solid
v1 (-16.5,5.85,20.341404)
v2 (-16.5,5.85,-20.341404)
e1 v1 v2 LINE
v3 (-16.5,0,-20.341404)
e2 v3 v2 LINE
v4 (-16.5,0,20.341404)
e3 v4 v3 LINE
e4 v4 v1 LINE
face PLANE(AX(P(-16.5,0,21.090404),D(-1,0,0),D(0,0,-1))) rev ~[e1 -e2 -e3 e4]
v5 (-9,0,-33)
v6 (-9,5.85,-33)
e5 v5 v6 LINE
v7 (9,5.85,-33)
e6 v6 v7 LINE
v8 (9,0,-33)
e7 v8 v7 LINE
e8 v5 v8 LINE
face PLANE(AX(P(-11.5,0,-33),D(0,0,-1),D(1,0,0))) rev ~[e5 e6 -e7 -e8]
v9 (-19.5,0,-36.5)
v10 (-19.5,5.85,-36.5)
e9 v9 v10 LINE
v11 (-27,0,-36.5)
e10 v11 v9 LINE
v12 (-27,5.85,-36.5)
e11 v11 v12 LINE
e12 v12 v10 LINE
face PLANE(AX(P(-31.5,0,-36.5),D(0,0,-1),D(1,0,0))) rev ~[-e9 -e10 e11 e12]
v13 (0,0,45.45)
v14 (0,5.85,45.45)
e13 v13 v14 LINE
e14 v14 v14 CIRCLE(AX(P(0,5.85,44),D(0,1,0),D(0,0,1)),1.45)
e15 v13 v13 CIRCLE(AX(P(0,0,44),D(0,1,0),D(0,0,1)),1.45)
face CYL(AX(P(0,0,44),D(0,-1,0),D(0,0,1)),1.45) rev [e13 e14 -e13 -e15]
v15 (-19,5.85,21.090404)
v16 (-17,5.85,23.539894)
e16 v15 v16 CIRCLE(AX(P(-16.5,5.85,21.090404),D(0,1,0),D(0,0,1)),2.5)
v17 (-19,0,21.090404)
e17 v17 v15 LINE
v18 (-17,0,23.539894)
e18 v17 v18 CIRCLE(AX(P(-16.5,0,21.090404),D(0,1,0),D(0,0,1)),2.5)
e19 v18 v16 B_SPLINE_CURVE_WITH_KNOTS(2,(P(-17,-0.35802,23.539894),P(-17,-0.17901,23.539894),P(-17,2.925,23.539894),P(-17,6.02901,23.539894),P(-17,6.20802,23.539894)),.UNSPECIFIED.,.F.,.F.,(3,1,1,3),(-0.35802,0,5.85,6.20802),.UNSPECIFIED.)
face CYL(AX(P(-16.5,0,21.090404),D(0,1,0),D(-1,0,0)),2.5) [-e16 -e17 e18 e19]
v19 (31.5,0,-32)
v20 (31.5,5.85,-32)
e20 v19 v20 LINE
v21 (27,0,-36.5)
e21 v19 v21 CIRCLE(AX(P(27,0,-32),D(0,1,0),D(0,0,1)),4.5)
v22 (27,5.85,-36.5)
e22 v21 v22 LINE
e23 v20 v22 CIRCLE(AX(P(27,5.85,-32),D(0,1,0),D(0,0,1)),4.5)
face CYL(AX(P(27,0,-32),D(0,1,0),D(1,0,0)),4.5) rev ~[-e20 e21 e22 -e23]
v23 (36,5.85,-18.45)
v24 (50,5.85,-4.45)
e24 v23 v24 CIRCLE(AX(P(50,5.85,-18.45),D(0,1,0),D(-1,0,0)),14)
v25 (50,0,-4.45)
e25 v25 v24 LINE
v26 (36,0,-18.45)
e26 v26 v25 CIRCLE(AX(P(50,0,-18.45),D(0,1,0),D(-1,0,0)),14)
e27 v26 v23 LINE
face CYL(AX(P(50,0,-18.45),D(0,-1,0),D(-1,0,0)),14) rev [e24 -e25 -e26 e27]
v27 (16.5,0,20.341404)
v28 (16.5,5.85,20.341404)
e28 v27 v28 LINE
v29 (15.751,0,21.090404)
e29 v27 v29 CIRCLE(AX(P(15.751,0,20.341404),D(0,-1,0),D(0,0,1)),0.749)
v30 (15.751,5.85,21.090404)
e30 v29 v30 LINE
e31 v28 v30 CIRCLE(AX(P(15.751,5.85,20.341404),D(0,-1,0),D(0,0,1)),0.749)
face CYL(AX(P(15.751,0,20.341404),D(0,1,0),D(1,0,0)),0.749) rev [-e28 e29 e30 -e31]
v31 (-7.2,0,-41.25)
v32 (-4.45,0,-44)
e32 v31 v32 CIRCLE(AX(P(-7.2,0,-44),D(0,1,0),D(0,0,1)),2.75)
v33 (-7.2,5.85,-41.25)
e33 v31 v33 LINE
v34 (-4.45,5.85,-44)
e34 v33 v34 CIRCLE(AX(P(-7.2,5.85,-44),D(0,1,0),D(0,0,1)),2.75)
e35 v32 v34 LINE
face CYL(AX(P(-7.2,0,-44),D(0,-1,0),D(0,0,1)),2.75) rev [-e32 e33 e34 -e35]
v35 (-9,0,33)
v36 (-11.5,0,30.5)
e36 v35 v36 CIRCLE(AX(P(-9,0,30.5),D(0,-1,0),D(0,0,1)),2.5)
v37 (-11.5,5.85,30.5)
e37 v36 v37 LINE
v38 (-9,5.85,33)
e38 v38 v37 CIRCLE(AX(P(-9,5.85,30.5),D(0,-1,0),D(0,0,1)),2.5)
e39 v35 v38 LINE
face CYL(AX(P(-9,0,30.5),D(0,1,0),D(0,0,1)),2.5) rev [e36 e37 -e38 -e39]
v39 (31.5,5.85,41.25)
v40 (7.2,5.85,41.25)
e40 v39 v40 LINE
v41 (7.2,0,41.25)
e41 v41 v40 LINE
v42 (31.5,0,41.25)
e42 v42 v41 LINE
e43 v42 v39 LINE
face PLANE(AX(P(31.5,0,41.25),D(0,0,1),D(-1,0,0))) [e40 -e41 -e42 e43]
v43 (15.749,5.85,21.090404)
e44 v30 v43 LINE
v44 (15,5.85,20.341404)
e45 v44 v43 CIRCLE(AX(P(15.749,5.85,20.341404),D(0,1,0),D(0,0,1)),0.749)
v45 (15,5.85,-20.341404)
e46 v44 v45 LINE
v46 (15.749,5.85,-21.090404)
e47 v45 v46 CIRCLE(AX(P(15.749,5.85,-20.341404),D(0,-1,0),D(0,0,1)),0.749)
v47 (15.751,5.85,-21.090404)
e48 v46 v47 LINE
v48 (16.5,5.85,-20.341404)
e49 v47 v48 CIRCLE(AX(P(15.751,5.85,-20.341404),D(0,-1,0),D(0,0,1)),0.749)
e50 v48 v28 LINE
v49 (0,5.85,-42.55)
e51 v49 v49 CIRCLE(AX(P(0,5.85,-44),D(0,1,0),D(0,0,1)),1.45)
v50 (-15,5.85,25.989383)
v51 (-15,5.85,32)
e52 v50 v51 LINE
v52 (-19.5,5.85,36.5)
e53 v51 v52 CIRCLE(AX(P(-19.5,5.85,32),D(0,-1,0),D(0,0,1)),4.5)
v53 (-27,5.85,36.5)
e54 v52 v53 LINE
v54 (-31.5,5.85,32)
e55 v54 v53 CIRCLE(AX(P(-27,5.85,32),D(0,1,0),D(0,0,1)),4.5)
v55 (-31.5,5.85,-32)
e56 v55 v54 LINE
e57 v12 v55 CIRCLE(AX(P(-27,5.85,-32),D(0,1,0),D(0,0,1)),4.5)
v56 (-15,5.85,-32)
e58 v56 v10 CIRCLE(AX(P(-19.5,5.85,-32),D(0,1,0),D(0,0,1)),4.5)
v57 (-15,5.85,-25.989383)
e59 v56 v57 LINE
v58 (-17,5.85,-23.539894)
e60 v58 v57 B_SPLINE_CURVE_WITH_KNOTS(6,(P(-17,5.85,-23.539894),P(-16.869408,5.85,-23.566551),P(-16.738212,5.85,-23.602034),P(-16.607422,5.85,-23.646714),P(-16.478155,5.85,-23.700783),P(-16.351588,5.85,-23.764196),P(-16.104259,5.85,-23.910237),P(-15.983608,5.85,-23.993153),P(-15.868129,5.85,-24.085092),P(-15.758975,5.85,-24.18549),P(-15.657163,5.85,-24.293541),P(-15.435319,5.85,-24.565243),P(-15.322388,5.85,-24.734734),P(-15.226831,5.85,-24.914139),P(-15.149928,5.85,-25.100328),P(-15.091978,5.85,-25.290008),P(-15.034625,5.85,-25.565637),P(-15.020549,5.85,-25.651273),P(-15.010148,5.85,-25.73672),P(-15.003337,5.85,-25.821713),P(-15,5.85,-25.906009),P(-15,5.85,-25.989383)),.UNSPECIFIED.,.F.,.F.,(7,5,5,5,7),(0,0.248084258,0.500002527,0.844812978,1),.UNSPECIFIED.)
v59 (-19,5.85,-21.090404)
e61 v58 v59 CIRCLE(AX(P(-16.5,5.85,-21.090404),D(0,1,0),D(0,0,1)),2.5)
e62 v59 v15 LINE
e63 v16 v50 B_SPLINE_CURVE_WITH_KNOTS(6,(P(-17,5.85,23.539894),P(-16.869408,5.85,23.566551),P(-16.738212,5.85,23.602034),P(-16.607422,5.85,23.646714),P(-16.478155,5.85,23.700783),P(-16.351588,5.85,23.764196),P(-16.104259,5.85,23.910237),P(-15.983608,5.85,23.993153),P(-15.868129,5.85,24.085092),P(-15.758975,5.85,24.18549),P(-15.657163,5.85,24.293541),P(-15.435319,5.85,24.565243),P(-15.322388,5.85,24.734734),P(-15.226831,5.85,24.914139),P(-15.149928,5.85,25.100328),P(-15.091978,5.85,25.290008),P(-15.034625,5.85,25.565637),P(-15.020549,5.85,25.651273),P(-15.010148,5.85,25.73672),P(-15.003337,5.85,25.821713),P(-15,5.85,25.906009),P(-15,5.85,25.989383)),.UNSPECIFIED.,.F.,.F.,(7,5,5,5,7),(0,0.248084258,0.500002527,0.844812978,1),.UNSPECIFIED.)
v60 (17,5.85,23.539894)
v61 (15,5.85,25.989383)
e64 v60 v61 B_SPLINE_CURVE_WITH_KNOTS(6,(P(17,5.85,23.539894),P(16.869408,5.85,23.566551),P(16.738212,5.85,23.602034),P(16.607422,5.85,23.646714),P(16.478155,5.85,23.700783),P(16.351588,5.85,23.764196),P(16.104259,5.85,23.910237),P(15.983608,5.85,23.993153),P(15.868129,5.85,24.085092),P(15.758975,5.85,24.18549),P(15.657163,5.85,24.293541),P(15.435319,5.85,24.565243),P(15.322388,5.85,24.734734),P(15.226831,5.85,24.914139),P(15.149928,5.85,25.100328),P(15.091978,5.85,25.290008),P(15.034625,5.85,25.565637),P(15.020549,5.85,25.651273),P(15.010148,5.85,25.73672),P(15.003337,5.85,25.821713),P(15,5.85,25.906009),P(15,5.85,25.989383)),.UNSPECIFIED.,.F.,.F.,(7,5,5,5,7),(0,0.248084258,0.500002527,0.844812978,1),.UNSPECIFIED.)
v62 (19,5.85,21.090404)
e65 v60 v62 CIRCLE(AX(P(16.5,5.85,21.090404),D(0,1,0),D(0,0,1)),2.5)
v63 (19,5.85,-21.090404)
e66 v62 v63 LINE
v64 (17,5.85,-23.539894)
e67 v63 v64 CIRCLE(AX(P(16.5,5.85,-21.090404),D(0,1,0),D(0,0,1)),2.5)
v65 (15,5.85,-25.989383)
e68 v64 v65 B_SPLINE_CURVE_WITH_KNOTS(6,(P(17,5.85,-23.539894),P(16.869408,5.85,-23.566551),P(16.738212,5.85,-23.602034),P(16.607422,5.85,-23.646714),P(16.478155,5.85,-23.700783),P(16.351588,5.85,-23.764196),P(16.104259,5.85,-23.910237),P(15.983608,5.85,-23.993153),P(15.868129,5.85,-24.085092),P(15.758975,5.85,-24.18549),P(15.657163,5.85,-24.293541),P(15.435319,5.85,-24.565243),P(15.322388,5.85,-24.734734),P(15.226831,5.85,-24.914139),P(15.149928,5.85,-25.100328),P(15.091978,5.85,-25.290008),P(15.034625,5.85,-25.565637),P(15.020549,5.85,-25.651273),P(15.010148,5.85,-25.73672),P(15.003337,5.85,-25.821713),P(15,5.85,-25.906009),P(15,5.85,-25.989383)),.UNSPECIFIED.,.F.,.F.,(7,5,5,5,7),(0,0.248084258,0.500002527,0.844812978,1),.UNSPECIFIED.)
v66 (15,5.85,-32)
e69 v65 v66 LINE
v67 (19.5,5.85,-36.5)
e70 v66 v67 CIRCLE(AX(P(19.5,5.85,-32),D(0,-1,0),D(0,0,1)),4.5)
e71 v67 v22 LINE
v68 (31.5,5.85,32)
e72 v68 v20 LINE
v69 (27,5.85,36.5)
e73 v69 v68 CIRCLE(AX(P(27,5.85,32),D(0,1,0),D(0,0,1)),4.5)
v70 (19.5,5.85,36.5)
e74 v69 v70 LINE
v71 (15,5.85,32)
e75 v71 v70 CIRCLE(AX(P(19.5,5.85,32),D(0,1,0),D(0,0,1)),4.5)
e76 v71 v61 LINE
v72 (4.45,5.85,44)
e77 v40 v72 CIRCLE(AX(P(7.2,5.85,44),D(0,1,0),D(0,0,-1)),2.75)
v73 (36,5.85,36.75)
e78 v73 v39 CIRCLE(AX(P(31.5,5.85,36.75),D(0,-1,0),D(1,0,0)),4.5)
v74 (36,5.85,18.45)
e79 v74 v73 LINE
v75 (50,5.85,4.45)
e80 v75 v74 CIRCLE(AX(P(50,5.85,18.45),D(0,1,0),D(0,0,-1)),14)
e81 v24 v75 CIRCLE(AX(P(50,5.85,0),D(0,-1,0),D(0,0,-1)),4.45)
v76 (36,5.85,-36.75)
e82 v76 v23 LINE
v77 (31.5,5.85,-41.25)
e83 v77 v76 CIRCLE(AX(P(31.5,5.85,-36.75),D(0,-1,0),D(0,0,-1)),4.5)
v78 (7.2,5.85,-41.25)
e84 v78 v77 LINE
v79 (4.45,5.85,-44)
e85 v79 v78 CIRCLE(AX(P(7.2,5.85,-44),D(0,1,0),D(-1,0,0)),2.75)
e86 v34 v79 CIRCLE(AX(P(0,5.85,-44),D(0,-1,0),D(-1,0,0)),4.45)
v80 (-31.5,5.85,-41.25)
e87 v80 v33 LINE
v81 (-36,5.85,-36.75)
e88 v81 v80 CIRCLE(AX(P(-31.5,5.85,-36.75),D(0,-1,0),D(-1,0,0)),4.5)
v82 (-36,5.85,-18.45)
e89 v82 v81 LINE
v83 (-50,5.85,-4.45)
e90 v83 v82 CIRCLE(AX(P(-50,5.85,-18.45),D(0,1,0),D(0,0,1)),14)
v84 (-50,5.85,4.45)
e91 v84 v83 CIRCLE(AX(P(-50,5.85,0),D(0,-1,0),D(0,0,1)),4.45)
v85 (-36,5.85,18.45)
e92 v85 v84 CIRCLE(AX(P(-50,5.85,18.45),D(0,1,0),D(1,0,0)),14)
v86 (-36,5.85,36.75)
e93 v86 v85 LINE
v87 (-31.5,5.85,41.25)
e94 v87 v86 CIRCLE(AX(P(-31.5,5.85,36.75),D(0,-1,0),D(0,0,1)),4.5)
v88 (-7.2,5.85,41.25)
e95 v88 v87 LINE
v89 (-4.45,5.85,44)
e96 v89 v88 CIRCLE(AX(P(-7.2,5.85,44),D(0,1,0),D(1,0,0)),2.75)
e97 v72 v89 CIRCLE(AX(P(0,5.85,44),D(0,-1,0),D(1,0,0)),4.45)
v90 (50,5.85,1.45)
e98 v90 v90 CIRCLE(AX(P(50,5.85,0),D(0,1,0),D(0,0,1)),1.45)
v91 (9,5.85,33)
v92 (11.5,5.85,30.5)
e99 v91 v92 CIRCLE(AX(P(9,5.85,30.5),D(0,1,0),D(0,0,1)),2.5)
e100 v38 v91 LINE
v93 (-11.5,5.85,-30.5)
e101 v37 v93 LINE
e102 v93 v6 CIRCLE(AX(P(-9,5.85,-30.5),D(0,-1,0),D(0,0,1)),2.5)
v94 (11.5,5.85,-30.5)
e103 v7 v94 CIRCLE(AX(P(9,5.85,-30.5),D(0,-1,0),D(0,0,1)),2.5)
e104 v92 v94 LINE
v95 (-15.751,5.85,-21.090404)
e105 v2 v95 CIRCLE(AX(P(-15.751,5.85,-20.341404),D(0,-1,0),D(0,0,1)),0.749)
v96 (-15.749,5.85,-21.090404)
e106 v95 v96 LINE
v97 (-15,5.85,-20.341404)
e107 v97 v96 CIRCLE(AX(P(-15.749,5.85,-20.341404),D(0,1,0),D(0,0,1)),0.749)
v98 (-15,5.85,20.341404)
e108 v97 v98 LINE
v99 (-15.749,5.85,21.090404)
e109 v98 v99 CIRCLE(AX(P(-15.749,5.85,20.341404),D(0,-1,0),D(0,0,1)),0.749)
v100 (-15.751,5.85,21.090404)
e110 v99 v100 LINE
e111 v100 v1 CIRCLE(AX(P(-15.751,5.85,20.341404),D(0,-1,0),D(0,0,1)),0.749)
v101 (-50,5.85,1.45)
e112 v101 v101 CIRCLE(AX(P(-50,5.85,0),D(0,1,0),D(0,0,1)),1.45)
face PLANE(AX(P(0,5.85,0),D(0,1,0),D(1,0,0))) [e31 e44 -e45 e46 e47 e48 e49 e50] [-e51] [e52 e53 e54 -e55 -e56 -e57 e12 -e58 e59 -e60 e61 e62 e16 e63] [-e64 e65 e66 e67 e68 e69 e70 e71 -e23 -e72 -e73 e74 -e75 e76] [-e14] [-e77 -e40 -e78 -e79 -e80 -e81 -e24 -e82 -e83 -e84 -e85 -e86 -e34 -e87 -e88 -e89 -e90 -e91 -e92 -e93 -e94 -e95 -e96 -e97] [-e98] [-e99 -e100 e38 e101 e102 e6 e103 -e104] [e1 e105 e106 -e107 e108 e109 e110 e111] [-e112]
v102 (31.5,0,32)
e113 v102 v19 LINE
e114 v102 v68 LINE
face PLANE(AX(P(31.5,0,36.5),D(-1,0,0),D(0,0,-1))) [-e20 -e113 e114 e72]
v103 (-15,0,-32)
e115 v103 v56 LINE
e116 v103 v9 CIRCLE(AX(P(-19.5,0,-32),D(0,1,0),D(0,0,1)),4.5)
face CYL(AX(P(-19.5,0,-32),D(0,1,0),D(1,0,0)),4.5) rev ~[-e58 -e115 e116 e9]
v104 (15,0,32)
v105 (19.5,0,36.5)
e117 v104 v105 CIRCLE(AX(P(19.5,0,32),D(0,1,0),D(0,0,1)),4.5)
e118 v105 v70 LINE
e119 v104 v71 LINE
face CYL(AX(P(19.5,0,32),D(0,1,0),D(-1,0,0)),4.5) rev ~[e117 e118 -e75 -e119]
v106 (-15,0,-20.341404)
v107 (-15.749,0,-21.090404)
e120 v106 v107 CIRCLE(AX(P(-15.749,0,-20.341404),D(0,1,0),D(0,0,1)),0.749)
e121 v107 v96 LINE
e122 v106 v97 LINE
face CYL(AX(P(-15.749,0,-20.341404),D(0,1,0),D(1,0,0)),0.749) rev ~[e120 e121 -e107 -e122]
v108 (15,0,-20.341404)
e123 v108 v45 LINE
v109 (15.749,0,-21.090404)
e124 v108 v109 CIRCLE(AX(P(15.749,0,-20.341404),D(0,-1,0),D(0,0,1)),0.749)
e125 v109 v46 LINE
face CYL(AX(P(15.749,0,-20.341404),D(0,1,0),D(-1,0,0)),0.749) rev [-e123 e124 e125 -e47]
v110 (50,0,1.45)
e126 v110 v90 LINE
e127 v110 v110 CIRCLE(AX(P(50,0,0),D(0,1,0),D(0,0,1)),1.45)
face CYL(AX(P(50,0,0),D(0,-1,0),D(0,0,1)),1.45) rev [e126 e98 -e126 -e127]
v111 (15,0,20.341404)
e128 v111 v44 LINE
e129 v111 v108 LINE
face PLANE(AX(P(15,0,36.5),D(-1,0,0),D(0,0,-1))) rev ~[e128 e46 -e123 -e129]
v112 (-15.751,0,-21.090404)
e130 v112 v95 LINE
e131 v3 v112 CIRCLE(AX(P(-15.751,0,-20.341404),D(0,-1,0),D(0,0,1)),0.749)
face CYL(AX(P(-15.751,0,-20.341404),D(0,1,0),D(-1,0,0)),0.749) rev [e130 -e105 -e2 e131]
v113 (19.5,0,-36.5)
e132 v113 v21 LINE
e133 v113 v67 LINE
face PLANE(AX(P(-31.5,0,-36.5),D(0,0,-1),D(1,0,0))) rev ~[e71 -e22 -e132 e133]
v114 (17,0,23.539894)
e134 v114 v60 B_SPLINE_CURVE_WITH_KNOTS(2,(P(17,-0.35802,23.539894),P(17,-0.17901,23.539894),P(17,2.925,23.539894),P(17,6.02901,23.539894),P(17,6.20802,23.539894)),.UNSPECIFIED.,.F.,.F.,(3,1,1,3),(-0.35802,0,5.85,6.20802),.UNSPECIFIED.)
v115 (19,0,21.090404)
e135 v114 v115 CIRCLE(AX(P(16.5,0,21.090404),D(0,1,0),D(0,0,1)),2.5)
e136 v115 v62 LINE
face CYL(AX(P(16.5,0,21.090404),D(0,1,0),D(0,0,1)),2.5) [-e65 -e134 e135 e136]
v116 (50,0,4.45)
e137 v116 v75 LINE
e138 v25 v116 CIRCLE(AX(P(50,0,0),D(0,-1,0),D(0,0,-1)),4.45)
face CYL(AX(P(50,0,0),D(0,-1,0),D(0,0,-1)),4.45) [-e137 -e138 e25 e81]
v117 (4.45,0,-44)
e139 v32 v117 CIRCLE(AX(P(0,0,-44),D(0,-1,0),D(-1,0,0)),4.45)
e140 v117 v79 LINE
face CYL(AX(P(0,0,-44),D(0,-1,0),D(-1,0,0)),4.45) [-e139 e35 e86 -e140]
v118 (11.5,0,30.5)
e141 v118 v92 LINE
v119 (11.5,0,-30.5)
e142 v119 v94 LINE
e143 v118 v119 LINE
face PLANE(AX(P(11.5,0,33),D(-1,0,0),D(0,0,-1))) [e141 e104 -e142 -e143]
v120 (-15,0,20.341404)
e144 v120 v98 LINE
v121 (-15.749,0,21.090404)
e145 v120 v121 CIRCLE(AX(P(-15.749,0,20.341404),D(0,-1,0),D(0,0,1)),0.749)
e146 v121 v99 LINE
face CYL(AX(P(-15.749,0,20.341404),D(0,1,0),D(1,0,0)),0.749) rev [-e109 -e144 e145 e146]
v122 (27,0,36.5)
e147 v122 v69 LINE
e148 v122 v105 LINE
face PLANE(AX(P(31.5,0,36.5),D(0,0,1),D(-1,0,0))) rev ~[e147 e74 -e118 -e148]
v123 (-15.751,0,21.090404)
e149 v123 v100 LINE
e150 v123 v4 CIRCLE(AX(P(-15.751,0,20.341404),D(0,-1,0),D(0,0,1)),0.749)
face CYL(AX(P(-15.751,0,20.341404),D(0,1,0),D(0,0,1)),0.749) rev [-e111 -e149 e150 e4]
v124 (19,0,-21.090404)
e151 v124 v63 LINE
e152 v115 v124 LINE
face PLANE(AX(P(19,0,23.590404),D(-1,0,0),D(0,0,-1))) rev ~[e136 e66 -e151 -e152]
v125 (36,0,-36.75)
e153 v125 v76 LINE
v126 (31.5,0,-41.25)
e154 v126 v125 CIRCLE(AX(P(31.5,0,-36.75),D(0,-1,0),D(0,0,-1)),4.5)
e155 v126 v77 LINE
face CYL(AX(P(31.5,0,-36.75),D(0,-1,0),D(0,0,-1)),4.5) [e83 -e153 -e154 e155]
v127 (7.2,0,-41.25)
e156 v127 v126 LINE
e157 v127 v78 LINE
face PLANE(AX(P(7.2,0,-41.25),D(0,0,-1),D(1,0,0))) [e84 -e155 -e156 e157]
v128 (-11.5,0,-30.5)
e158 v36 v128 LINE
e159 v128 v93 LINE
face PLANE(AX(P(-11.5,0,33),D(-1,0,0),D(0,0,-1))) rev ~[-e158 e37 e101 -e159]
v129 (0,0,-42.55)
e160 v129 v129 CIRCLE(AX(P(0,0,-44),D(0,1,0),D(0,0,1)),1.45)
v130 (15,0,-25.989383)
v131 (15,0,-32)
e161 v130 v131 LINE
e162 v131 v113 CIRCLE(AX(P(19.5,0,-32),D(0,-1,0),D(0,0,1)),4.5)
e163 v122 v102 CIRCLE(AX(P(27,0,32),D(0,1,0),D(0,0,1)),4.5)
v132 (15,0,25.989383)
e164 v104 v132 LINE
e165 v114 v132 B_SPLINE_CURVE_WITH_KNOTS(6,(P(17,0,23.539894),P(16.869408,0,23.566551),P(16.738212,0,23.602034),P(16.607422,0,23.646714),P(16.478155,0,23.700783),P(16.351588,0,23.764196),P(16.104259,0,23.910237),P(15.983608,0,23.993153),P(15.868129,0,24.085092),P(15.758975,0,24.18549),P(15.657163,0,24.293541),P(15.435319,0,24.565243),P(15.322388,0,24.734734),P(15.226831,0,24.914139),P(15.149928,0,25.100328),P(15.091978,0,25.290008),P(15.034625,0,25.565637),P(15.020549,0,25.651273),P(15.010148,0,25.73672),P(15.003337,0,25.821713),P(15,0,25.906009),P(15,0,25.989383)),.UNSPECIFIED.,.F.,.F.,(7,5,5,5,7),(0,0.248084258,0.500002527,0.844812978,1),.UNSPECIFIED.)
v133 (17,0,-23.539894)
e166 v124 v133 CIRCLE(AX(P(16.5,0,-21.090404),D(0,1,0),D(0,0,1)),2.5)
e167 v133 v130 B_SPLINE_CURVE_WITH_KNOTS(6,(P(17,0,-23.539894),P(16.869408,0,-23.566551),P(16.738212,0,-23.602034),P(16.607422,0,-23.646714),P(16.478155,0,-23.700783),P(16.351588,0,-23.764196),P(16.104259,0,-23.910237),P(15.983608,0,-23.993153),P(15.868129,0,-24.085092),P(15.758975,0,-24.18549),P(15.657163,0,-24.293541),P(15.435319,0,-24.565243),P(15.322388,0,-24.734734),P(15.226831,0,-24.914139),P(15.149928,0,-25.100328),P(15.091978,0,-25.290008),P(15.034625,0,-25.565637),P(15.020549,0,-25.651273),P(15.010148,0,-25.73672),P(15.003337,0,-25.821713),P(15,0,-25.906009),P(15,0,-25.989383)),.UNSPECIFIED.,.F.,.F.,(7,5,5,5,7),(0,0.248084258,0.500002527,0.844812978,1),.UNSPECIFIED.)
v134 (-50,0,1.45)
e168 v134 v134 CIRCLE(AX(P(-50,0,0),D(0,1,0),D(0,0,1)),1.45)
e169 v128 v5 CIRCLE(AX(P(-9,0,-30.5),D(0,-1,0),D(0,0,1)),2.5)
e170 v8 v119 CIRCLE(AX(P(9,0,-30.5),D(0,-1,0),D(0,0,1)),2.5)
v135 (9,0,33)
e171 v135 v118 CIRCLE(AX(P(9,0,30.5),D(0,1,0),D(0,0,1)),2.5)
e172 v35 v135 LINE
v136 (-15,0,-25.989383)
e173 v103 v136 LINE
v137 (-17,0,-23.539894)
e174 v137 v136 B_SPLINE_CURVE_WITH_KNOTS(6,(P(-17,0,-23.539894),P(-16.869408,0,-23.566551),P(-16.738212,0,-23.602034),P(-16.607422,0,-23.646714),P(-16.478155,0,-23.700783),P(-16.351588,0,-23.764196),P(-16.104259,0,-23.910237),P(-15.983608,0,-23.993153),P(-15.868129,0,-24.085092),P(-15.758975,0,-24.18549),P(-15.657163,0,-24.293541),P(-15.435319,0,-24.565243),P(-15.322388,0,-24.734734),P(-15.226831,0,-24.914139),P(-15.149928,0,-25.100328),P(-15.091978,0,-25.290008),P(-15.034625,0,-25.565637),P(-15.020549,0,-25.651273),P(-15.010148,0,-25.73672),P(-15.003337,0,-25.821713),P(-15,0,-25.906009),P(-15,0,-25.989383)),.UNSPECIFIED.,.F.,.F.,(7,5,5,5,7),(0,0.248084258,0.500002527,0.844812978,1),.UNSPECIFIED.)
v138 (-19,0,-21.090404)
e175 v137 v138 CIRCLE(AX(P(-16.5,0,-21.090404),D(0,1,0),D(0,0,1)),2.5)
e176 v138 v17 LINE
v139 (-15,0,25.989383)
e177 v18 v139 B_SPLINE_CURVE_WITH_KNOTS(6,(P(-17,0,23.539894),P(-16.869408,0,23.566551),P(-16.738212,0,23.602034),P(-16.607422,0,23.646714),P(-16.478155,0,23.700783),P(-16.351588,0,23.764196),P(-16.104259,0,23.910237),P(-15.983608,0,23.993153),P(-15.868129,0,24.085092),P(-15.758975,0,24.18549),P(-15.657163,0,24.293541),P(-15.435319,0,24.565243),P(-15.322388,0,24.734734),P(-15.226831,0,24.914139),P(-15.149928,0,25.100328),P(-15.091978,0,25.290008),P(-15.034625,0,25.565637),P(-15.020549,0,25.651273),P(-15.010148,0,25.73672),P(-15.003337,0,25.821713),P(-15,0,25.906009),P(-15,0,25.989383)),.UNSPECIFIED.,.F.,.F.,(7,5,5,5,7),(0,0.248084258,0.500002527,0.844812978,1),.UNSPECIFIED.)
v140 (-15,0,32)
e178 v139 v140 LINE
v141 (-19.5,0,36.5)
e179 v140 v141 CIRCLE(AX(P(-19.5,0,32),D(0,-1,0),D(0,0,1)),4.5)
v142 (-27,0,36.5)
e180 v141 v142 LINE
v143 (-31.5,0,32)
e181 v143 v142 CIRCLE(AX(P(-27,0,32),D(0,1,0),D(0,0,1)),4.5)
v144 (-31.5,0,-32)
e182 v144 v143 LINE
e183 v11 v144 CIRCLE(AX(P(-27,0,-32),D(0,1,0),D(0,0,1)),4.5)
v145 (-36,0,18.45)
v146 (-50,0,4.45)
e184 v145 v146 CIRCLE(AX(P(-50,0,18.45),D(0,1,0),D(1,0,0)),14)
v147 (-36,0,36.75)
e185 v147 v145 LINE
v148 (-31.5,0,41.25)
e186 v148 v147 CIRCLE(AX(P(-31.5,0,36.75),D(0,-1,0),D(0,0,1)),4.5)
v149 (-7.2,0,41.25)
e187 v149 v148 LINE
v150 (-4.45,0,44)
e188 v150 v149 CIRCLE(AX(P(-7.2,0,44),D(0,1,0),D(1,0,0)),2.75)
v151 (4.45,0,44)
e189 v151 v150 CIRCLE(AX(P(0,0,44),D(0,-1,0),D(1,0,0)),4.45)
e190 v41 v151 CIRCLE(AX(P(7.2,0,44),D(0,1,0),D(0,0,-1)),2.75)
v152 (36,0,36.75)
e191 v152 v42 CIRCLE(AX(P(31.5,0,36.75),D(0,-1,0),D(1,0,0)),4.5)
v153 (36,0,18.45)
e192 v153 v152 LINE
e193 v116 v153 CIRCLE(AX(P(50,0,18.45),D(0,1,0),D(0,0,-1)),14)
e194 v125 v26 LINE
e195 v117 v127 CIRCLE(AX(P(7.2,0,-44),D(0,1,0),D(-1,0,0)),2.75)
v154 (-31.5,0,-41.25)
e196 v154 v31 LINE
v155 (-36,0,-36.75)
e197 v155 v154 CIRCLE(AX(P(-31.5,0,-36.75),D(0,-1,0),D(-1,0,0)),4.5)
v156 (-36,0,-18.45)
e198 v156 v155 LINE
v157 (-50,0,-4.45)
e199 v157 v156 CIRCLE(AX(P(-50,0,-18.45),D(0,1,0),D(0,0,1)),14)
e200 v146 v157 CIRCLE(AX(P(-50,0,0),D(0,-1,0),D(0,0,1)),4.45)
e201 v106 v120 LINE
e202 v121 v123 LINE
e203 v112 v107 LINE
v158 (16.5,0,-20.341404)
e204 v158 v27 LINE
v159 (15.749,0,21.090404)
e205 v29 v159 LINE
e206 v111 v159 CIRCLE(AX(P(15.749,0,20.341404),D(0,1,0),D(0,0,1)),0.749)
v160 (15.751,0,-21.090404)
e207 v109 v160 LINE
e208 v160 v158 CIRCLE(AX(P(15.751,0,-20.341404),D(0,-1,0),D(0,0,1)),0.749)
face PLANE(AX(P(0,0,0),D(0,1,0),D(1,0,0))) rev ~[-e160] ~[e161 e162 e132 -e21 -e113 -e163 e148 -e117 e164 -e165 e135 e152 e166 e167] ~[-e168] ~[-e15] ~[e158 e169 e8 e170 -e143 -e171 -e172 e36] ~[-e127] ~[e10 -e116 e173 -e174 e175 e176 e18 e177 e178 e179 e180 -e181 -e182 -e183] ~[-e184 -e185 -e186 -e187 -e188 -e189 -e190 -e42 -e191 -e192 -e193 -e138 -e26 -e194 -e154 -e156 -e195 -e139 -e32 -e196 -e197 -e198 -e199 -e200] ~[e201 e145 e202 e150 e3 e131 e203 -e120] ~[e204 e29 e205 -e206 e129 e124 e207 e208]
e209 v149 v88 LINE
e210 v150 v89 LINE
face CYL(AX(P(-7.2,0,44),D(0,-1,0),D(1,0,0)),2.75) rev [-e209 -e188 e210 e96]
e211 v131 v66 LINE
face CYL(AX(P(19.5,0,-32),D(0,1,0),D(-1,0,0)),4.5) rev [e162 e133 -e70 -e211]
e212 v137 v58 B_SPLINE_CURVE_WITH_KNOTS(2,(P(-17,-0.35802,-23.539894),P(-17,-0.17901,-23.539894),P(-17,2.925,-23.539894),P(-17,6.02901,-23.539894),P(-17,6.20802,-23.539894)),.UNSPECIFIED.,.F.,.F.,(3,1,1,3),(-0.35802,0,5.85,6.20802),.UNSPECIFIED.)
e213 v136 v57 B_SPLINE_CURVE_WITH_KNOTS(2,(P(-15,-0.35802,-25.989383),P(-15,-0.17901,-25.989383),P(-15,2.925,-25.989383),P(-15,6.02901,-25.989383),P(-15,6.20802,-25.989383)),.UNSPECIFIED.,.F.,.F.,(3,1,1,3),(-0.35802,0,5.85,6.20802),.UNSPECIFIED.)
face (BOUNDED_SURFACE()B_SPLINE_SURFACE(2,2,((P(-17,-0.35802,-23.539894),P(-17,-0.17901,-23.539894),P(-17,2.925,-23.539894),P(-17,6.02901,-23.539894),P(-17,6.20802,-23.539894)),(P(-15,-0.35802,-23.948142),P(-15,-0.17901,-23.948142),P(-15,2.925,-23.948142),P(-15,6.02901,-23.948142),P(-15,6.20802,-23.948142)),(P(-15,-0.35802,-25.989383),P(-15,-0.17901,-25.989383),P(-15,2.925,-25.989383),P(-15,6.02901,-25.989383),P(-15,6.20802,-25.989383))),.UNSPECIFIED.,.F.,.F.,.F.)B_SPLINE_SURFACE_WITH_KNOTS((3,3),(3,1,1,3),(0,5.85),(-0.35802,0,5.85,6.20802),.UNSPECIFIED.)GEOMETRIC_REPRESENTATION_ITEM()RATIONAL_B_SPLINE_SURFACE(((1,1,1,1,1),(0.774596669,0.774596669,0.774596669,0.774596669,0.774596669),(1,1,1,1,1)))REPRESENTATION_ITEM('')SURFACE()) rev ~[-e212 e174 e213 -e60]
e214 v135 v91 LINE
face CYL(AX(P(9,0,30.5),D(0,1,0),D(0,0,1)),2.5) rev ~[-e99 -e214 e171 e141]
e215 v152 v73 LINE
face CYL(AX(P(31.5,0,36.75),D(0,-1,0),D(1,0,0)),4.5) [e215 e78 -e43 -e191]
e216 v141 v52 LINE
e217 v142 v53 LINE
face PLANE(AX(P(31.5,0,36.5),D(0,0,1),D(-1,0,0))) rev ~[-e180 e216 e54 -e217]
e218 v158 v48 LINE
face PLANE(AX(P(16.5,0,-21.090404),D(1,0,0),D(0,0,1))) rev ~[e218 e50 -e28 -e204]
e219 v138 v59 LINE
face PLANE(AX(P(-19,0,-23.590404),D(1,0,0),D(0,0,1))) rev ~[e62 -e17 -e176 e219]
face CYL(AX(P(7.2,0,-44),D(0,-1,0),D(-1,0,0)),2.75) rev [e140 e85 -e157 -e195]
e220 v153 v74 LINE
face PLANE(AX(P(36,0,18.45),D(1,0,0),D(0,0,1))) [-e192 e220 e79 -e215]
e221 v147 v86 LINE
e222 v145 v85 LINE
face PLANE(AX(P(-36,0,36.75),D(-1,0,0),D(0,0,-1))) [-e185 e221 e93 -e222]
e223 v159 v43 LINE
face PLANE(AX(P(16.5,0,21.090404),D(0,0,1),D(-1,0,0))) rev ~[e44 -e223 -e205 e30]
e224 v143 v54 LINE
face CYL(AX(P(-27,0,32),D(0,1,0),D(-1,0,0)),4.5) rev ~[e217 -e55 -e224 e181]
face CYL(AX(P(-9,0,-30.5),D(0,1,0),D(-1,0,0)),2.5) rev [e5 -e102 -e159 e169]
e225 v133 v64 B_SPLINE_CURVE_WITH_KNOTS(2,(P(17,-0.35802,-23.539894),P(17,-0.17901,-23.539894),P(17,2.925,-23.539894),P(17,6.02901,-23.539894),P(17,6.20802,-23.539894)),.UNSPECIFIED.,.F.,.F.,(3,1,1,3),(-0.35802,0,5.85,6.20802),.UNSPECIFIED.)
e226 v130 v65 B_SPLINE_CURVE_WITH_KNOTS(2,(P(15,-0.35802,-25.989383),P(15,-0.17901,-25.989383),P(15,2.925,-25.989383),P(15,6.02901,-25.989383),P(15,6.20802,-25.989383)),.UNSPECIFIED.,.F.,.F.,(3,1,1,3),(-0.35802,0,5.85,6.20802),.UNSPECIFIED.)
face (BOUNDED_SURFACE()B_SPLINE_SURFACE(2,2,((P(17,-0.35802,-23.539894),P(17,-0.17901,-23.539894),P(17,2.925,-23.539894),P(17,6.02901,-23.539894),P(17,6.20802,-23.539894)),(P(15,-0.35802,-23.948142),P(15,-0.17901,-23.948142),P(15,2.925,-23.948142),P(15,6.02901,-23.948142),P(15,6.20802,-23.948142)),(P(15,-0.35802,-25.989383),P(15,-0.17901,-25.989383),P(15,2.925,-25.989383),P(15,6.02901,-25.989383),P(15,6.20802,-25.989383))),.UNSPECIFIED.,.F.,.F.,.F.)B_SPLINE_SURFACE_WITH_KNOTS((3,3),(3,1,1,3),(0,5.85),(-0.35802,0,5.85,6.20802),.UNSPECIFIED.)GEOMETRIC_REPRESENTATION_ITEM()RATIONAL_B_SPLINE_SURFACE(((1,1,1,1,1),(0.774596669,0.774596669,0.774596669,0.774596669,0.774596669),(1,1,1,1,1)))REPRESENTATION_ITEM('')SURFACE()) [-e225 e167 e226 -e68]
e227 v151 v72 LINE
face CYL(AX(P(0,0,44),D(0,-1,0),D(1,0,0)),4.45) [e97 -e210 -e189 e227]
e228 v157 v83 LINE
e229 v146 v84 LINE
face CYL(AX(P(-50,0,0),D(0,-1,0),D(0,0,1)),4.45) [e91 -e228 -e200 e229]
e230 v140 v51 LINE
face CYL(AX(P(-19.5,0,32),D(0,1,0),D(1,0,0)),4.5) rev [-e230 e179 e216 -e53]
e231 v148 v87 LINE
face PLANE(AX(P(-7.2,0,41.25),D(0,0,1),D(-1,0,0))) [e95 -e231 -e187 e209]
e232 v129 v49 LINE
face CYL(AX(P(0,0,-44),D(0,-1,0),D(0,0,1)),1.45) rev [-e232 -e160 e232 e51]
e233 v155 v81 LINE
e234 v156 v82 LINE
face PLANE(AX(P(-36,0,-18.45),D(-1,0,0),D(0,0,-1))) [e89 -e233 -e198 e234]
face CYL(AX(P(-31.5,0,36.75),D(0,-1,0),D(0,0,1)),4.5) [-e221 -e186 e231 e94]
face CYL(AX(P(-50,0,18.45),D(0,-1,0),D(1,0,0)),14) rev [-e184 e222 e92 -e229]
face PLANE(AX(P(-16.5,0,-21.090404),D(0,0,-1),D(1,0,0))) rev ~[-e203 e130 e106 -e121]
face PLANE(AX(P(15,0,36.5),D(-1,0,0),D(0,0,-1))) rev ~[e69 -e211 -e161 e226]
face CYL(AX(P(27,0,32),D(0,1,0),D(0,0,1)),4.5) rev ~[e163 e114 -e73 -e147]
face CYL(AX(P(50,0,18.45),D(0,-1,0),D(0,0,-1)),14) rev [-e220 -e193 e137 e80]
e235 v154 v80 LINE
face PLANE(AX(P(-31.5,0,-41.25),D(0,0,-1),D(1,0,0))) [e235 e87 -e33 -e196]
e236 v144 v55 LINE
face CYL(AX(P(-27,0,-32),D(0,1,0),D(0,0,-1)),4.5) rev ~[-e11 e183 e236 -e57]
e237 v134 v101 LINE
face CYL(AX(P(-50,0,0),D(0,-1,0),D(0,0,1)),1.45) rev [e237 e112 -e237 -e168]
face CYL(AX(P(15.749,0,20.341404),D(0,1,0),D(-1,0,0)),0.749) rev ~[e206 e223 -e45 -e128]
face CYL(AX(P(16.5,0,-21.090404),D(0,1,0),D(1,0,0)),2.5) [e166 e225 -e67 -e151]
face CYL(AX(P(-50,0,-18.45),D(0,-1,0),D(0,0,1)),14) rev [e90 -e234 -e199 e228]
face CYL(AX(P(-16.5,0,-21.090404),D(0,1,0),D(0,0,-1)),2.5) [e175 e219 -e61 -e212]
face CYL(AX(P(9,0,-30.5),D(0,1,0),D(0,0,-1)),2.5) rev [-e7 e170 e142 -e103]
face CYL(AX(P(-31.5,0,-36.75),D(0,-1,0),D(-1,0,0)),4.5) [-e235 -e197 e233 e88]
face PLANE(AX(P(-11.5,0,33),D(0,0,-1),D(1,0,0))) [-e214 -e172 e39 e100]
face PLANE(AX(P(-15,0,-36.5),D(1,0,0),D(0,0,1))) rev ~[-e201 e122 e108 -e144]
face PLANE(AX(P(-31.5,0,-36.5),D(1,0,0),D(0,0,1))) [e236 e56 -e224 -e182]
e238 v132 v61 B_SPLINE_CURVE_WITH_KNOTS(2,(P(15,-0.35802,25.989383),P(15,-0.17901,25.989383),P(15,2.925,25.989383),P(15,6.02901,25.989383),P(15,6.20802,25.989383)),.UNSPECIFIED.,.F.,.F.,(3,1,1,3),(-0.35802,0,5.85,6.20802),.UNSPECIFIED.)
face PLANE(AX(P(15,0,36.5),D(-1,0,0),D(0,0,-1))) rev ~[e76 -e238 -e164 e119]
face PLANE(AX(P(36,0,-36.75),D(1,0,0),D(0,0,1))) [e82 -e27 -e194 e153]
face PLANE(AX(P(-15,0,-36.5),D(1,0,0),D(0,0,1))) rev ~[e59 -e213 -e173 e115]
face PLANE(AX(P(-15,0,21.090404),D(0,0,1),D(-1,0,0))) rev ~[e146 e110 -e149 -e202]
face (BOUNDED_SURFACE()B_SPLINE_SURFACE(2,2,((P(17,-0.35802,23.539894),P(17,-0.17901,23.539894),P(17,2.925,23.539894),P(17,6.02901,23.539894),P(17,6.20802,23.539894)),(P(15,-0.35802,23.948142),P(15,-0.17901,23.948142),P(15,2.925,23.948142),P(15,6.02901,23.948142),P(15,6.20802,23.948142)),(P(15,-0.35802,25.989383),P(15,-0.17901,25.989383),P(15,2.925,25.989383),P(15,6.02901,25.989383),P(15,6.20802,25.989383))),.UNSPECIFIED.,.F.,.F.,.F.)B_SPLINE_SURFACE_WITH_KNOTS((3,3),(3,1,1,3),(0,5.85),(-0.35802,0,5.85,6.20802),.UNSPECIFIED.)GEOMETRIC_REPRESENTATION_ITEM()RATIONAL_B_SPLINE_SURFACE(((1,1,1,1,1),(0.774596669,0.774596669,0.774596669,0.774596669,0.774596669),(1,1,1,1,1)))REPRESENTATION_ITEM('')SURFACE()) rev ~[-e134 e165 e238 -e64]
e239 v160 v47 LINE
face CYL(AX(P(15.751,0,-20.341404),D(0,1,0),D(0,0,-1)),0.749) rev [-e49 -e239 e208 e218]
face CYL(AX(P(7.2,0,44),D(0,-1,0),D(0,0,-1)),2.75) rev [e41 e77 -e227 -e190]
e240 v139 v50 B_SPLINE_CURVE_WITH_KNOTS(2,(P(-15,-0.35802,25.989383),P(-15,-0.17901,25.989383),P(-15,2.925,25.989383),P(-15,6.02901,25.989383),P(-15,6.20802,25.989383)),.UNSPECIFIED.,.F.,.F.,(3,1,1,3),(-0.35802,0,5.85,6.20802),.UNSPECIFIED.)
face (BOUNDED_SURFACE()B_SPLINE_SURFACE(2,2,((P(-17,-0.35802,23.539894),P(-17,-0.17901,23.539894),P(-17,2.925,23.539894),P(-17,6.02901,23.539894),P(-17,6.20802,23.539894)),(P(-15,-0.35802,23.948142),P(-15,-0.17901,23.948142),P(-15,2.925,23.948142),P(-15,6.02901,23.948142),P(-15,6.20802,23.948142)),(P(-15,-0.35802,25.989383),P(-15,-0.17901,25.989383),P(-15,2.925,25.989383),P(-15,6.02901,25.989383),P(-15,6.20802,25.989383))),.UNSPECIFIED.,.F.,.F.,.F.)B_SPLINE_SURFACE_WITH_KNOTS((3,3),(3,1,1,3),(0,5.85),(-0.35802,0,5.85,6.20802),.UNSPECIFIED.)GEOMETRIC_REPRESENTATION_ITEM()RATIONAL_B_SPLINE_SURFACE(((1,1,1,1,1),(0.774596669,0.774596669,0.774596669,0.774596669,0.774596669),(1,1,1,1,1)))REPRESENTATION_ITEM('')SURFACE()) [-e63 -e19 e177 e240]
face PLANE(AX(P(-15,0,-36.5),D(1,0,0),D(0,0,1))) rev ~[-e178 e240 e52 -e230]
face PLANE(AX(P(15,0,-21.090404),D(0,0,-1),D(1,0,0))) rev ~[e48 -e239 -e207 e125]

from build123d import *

# Parameters (mm, degrees)
SKETCH1_R           = 1.45
SKETCH1_W           = 23
SKETCH1_H           = 66
BOSS_EXTRUDE1_DEPTH = 5.85
FILLET1_R           = 4.5
FILLET2_R           = 0.749
FILLET3_R           = 2.5
FILLET4_R           = 2.5


with BuildPart() as part:
    # Sketch1 → Boss-Extrude1 (new body)
    # profile 1 of 4: a face of its own
    with BuildSketch(Plane(origin=(0, 0, 0), x_dir=(1, 0, 0), z_dir=(0, 1, 0))):
        with BuildLine():
            Line((-31.5, 41.25), (-7.2, 41.25))
            ThreePointArc((-7.2, 41.25), (-5.255456352, 42.055456352), (-4.45, 44))
            ThreePointArc((-4.45, 44), (0, 48.45), (4.45, 44))
            ThreePointArc((4.45, 44), (5.255456352, 42.055456352), (7.2, 41.25))
            Line((7.2, 41.25), (31.5, 41.25))
            ThreePointArc((31.5, 41.25), (34.681980515, 39.931980515), (36, 36.75))
            Line((36, 36.75), (36, 18.45))
            ThreePointArc((36, 18.45), (40.100505063, 8.550505063), (50, 4.45))
            ThreePointArc((50, 4.45), (54.45, 0), (50, -4.45))
            ThreePointArc((50, -4.45), (40.100505063, -8.550505063), (36, -18.45))
            Line((36, -18.45), (36, -36.75))
            ThreePointArc((36, -36.75), (34.681980515, -39.931980515), (31.5, -41.25))
            Line((31.5, -41.25), (7.2, -41.25))
            ThreePointArc((7.2, -41.25), (5.255456352, -42.055456352), (4.45, -44))
            ThreePointArc((4.45, -44), (0, -48.45), (-4.45, -44))
            ThreePointArc((-4.45, -44), (-5.255456352, -42.055456352), (-7.2, -41.25))
            Line((-7.2, -41.25), (-31.5, -41.25))
            ThreePointArc((-31.5, -41.25), (-34.681980515, -39.931980515), (-36, -36.75))
            Line((-36, -36.75), (-36, -18.45))
            ThreePointArc((-36, -18.45), (-40.100505063, -8.550505063), (-50, -4.45))
            ThreePointArc((-50, -4.45), (-54.45, 0), (-50, 4.45))
            ThreePointArc((-50, 4.45), (-40.100505063, 8.550505063), (-36, 18.45))
            Line((-36, 18.45), (-36, 36.75))
            ThreePointArc((-36, 36.75), (-34.681980515, 39.931980515), (-31.5, 41.25))
        make_face()
        with Locations((0, 44)):
            Circle(SKETCH1_R, mode=Mode.SUBTRACT)
        with Locations((0, -44)):
            Circle(SKETCH1_R, mode=Mode.SUBTRACT)
        with Locations((-50, 0)):
            Circle(SKETCH1_R, mode=Mode.SUBTRACT)
        with Locations((50, 0)):
            Circle(SKETCH1_R, mode=Mode.SUBTRACT)
        Polygon((31.5, 36.5), (20.5, 36.5), (-31.5, 36.5), (-31.5, -36.5), (20.5, -36.5), (31.5, -36.5), align=None, mode=Mode.SUBTRACT)
    # profile 2 of 4: a face of its own
    with BuildSketch(Plane(origin=(0, 0, 0), x_dir=(1, 0, 0), z_dir=(0, 1, 0))):
        Polygon((-15, 21.090403907), (-15, 23.590403907), (-19, 23.590403907), (-19, 0), (-19, -23.590403907), (-15, -23.590403907), (-15, -21.090403907), (-16.5, -21.090403907), (-16.5, 0), (-16.5, 21.090403907), align=None)
    # profile 3 of 4: a face of its own
    with BuildSketch(Plane(origin=(0, 0, 0), x_dir=(1, 0, 0), z_dir=(0, 1, 0))):
        Polygon((19, 23.590403907), (15, 23.590403907), (15, 21.090403907), (16.5, 21.090403907), (16.5, 0), (16.5, -21.090403907), (15, -21.090403907), (15, -23.590403907), (19, -23.590403907), (19, 0), align=None)
    # profile 4 of 4: a face of its own
    with BuildSketch(Plane(origin=(0, 0, 0), x_dir=(1, 0, 0), z_dir=(0, 1, 0))):
        Polygon((15, 36.5), (-15, 36.5), (-15, 23.590403907), (-15, 21.090403907), (-15, -21.090403907), (-15, -23.590403907), (-15, -36.5), (15, -36.5), (15, -23.590403907), (15, -21.090403907), (15, 21.090403907), (15, 23.590403907), align=None)
        Rectangle(SKETCH1_W, SKETCH1_H, mode=Mode.SUBTRACT)
    extrude(amount=BOSS_EXTRUDE1_DEPTH)

    # Fillet1
    fillet1_edges = [part.edges().sort_by_distance(p)[0] for p in [
        (15, 2.925, 36.5),
        (31.5, 2.925, 36.5),
        (-15, 2.925, 36.5),
        (31.5, 2.925, -36.5),
        (-15, 2.925, -36.5),
        (15, 2.925, -36.5),
        (-31.5, 2.925, -36.5),
        (-31.5, 2.925, 36.5),
    ]]
    fillet(fillet1_edges, radius=FILLET1_R)

    # Fillet2
    fillet2_edges = [part.edges().sort_by_distance(p)[0] for p in [
        (16.5, 2.925, 21.090403907),
        (15, 2.925, 21.090403907),
        (-15, 2.925, 21.090403907),
        (-16.5, 2.925, 21.090403907),
        (16.5, 2.925, -21.090403907),
        (15, 2.925, -21.090403907),
        (-15, 2.925, -21.090403907),
        (-16.5, 2.925, -21.090403907),
    ]]
    fillet(fillet2_edges, radius=FILLET2_R)

    # Fillet3
    fillet3_edges = [part.edges().sort_by_distance(p)[0] for p in [
        (-19, 2.925, -23.590403907),
        (19, 2.925, -23.590403907),
        (19, 2.925, 23.590403907),
        (-19, 2.925, 23.590403907),
        (11.5, 2.925, 33),
        (-11.5, 2.925, 33),
        (11.5, 2.925, -33),
        (-11.5, 2.925, -33),
    ]]
    fillet(fillet3_edges, radius=FILLET3_R)

    # Fillet4
    fillet4_edges = [part.edges().sort_by_distance(p)[0] for p in [
        (15, 2.925, -23.590403907),
        (-15, 2.925, -23.590403907),
        (15, 2.925, 23.590403907),
        (-15, 2.925, 23.590403907),
    ]]
    fillet(fillet4_edges, radius=FILLET4_R)


solid = part.part
